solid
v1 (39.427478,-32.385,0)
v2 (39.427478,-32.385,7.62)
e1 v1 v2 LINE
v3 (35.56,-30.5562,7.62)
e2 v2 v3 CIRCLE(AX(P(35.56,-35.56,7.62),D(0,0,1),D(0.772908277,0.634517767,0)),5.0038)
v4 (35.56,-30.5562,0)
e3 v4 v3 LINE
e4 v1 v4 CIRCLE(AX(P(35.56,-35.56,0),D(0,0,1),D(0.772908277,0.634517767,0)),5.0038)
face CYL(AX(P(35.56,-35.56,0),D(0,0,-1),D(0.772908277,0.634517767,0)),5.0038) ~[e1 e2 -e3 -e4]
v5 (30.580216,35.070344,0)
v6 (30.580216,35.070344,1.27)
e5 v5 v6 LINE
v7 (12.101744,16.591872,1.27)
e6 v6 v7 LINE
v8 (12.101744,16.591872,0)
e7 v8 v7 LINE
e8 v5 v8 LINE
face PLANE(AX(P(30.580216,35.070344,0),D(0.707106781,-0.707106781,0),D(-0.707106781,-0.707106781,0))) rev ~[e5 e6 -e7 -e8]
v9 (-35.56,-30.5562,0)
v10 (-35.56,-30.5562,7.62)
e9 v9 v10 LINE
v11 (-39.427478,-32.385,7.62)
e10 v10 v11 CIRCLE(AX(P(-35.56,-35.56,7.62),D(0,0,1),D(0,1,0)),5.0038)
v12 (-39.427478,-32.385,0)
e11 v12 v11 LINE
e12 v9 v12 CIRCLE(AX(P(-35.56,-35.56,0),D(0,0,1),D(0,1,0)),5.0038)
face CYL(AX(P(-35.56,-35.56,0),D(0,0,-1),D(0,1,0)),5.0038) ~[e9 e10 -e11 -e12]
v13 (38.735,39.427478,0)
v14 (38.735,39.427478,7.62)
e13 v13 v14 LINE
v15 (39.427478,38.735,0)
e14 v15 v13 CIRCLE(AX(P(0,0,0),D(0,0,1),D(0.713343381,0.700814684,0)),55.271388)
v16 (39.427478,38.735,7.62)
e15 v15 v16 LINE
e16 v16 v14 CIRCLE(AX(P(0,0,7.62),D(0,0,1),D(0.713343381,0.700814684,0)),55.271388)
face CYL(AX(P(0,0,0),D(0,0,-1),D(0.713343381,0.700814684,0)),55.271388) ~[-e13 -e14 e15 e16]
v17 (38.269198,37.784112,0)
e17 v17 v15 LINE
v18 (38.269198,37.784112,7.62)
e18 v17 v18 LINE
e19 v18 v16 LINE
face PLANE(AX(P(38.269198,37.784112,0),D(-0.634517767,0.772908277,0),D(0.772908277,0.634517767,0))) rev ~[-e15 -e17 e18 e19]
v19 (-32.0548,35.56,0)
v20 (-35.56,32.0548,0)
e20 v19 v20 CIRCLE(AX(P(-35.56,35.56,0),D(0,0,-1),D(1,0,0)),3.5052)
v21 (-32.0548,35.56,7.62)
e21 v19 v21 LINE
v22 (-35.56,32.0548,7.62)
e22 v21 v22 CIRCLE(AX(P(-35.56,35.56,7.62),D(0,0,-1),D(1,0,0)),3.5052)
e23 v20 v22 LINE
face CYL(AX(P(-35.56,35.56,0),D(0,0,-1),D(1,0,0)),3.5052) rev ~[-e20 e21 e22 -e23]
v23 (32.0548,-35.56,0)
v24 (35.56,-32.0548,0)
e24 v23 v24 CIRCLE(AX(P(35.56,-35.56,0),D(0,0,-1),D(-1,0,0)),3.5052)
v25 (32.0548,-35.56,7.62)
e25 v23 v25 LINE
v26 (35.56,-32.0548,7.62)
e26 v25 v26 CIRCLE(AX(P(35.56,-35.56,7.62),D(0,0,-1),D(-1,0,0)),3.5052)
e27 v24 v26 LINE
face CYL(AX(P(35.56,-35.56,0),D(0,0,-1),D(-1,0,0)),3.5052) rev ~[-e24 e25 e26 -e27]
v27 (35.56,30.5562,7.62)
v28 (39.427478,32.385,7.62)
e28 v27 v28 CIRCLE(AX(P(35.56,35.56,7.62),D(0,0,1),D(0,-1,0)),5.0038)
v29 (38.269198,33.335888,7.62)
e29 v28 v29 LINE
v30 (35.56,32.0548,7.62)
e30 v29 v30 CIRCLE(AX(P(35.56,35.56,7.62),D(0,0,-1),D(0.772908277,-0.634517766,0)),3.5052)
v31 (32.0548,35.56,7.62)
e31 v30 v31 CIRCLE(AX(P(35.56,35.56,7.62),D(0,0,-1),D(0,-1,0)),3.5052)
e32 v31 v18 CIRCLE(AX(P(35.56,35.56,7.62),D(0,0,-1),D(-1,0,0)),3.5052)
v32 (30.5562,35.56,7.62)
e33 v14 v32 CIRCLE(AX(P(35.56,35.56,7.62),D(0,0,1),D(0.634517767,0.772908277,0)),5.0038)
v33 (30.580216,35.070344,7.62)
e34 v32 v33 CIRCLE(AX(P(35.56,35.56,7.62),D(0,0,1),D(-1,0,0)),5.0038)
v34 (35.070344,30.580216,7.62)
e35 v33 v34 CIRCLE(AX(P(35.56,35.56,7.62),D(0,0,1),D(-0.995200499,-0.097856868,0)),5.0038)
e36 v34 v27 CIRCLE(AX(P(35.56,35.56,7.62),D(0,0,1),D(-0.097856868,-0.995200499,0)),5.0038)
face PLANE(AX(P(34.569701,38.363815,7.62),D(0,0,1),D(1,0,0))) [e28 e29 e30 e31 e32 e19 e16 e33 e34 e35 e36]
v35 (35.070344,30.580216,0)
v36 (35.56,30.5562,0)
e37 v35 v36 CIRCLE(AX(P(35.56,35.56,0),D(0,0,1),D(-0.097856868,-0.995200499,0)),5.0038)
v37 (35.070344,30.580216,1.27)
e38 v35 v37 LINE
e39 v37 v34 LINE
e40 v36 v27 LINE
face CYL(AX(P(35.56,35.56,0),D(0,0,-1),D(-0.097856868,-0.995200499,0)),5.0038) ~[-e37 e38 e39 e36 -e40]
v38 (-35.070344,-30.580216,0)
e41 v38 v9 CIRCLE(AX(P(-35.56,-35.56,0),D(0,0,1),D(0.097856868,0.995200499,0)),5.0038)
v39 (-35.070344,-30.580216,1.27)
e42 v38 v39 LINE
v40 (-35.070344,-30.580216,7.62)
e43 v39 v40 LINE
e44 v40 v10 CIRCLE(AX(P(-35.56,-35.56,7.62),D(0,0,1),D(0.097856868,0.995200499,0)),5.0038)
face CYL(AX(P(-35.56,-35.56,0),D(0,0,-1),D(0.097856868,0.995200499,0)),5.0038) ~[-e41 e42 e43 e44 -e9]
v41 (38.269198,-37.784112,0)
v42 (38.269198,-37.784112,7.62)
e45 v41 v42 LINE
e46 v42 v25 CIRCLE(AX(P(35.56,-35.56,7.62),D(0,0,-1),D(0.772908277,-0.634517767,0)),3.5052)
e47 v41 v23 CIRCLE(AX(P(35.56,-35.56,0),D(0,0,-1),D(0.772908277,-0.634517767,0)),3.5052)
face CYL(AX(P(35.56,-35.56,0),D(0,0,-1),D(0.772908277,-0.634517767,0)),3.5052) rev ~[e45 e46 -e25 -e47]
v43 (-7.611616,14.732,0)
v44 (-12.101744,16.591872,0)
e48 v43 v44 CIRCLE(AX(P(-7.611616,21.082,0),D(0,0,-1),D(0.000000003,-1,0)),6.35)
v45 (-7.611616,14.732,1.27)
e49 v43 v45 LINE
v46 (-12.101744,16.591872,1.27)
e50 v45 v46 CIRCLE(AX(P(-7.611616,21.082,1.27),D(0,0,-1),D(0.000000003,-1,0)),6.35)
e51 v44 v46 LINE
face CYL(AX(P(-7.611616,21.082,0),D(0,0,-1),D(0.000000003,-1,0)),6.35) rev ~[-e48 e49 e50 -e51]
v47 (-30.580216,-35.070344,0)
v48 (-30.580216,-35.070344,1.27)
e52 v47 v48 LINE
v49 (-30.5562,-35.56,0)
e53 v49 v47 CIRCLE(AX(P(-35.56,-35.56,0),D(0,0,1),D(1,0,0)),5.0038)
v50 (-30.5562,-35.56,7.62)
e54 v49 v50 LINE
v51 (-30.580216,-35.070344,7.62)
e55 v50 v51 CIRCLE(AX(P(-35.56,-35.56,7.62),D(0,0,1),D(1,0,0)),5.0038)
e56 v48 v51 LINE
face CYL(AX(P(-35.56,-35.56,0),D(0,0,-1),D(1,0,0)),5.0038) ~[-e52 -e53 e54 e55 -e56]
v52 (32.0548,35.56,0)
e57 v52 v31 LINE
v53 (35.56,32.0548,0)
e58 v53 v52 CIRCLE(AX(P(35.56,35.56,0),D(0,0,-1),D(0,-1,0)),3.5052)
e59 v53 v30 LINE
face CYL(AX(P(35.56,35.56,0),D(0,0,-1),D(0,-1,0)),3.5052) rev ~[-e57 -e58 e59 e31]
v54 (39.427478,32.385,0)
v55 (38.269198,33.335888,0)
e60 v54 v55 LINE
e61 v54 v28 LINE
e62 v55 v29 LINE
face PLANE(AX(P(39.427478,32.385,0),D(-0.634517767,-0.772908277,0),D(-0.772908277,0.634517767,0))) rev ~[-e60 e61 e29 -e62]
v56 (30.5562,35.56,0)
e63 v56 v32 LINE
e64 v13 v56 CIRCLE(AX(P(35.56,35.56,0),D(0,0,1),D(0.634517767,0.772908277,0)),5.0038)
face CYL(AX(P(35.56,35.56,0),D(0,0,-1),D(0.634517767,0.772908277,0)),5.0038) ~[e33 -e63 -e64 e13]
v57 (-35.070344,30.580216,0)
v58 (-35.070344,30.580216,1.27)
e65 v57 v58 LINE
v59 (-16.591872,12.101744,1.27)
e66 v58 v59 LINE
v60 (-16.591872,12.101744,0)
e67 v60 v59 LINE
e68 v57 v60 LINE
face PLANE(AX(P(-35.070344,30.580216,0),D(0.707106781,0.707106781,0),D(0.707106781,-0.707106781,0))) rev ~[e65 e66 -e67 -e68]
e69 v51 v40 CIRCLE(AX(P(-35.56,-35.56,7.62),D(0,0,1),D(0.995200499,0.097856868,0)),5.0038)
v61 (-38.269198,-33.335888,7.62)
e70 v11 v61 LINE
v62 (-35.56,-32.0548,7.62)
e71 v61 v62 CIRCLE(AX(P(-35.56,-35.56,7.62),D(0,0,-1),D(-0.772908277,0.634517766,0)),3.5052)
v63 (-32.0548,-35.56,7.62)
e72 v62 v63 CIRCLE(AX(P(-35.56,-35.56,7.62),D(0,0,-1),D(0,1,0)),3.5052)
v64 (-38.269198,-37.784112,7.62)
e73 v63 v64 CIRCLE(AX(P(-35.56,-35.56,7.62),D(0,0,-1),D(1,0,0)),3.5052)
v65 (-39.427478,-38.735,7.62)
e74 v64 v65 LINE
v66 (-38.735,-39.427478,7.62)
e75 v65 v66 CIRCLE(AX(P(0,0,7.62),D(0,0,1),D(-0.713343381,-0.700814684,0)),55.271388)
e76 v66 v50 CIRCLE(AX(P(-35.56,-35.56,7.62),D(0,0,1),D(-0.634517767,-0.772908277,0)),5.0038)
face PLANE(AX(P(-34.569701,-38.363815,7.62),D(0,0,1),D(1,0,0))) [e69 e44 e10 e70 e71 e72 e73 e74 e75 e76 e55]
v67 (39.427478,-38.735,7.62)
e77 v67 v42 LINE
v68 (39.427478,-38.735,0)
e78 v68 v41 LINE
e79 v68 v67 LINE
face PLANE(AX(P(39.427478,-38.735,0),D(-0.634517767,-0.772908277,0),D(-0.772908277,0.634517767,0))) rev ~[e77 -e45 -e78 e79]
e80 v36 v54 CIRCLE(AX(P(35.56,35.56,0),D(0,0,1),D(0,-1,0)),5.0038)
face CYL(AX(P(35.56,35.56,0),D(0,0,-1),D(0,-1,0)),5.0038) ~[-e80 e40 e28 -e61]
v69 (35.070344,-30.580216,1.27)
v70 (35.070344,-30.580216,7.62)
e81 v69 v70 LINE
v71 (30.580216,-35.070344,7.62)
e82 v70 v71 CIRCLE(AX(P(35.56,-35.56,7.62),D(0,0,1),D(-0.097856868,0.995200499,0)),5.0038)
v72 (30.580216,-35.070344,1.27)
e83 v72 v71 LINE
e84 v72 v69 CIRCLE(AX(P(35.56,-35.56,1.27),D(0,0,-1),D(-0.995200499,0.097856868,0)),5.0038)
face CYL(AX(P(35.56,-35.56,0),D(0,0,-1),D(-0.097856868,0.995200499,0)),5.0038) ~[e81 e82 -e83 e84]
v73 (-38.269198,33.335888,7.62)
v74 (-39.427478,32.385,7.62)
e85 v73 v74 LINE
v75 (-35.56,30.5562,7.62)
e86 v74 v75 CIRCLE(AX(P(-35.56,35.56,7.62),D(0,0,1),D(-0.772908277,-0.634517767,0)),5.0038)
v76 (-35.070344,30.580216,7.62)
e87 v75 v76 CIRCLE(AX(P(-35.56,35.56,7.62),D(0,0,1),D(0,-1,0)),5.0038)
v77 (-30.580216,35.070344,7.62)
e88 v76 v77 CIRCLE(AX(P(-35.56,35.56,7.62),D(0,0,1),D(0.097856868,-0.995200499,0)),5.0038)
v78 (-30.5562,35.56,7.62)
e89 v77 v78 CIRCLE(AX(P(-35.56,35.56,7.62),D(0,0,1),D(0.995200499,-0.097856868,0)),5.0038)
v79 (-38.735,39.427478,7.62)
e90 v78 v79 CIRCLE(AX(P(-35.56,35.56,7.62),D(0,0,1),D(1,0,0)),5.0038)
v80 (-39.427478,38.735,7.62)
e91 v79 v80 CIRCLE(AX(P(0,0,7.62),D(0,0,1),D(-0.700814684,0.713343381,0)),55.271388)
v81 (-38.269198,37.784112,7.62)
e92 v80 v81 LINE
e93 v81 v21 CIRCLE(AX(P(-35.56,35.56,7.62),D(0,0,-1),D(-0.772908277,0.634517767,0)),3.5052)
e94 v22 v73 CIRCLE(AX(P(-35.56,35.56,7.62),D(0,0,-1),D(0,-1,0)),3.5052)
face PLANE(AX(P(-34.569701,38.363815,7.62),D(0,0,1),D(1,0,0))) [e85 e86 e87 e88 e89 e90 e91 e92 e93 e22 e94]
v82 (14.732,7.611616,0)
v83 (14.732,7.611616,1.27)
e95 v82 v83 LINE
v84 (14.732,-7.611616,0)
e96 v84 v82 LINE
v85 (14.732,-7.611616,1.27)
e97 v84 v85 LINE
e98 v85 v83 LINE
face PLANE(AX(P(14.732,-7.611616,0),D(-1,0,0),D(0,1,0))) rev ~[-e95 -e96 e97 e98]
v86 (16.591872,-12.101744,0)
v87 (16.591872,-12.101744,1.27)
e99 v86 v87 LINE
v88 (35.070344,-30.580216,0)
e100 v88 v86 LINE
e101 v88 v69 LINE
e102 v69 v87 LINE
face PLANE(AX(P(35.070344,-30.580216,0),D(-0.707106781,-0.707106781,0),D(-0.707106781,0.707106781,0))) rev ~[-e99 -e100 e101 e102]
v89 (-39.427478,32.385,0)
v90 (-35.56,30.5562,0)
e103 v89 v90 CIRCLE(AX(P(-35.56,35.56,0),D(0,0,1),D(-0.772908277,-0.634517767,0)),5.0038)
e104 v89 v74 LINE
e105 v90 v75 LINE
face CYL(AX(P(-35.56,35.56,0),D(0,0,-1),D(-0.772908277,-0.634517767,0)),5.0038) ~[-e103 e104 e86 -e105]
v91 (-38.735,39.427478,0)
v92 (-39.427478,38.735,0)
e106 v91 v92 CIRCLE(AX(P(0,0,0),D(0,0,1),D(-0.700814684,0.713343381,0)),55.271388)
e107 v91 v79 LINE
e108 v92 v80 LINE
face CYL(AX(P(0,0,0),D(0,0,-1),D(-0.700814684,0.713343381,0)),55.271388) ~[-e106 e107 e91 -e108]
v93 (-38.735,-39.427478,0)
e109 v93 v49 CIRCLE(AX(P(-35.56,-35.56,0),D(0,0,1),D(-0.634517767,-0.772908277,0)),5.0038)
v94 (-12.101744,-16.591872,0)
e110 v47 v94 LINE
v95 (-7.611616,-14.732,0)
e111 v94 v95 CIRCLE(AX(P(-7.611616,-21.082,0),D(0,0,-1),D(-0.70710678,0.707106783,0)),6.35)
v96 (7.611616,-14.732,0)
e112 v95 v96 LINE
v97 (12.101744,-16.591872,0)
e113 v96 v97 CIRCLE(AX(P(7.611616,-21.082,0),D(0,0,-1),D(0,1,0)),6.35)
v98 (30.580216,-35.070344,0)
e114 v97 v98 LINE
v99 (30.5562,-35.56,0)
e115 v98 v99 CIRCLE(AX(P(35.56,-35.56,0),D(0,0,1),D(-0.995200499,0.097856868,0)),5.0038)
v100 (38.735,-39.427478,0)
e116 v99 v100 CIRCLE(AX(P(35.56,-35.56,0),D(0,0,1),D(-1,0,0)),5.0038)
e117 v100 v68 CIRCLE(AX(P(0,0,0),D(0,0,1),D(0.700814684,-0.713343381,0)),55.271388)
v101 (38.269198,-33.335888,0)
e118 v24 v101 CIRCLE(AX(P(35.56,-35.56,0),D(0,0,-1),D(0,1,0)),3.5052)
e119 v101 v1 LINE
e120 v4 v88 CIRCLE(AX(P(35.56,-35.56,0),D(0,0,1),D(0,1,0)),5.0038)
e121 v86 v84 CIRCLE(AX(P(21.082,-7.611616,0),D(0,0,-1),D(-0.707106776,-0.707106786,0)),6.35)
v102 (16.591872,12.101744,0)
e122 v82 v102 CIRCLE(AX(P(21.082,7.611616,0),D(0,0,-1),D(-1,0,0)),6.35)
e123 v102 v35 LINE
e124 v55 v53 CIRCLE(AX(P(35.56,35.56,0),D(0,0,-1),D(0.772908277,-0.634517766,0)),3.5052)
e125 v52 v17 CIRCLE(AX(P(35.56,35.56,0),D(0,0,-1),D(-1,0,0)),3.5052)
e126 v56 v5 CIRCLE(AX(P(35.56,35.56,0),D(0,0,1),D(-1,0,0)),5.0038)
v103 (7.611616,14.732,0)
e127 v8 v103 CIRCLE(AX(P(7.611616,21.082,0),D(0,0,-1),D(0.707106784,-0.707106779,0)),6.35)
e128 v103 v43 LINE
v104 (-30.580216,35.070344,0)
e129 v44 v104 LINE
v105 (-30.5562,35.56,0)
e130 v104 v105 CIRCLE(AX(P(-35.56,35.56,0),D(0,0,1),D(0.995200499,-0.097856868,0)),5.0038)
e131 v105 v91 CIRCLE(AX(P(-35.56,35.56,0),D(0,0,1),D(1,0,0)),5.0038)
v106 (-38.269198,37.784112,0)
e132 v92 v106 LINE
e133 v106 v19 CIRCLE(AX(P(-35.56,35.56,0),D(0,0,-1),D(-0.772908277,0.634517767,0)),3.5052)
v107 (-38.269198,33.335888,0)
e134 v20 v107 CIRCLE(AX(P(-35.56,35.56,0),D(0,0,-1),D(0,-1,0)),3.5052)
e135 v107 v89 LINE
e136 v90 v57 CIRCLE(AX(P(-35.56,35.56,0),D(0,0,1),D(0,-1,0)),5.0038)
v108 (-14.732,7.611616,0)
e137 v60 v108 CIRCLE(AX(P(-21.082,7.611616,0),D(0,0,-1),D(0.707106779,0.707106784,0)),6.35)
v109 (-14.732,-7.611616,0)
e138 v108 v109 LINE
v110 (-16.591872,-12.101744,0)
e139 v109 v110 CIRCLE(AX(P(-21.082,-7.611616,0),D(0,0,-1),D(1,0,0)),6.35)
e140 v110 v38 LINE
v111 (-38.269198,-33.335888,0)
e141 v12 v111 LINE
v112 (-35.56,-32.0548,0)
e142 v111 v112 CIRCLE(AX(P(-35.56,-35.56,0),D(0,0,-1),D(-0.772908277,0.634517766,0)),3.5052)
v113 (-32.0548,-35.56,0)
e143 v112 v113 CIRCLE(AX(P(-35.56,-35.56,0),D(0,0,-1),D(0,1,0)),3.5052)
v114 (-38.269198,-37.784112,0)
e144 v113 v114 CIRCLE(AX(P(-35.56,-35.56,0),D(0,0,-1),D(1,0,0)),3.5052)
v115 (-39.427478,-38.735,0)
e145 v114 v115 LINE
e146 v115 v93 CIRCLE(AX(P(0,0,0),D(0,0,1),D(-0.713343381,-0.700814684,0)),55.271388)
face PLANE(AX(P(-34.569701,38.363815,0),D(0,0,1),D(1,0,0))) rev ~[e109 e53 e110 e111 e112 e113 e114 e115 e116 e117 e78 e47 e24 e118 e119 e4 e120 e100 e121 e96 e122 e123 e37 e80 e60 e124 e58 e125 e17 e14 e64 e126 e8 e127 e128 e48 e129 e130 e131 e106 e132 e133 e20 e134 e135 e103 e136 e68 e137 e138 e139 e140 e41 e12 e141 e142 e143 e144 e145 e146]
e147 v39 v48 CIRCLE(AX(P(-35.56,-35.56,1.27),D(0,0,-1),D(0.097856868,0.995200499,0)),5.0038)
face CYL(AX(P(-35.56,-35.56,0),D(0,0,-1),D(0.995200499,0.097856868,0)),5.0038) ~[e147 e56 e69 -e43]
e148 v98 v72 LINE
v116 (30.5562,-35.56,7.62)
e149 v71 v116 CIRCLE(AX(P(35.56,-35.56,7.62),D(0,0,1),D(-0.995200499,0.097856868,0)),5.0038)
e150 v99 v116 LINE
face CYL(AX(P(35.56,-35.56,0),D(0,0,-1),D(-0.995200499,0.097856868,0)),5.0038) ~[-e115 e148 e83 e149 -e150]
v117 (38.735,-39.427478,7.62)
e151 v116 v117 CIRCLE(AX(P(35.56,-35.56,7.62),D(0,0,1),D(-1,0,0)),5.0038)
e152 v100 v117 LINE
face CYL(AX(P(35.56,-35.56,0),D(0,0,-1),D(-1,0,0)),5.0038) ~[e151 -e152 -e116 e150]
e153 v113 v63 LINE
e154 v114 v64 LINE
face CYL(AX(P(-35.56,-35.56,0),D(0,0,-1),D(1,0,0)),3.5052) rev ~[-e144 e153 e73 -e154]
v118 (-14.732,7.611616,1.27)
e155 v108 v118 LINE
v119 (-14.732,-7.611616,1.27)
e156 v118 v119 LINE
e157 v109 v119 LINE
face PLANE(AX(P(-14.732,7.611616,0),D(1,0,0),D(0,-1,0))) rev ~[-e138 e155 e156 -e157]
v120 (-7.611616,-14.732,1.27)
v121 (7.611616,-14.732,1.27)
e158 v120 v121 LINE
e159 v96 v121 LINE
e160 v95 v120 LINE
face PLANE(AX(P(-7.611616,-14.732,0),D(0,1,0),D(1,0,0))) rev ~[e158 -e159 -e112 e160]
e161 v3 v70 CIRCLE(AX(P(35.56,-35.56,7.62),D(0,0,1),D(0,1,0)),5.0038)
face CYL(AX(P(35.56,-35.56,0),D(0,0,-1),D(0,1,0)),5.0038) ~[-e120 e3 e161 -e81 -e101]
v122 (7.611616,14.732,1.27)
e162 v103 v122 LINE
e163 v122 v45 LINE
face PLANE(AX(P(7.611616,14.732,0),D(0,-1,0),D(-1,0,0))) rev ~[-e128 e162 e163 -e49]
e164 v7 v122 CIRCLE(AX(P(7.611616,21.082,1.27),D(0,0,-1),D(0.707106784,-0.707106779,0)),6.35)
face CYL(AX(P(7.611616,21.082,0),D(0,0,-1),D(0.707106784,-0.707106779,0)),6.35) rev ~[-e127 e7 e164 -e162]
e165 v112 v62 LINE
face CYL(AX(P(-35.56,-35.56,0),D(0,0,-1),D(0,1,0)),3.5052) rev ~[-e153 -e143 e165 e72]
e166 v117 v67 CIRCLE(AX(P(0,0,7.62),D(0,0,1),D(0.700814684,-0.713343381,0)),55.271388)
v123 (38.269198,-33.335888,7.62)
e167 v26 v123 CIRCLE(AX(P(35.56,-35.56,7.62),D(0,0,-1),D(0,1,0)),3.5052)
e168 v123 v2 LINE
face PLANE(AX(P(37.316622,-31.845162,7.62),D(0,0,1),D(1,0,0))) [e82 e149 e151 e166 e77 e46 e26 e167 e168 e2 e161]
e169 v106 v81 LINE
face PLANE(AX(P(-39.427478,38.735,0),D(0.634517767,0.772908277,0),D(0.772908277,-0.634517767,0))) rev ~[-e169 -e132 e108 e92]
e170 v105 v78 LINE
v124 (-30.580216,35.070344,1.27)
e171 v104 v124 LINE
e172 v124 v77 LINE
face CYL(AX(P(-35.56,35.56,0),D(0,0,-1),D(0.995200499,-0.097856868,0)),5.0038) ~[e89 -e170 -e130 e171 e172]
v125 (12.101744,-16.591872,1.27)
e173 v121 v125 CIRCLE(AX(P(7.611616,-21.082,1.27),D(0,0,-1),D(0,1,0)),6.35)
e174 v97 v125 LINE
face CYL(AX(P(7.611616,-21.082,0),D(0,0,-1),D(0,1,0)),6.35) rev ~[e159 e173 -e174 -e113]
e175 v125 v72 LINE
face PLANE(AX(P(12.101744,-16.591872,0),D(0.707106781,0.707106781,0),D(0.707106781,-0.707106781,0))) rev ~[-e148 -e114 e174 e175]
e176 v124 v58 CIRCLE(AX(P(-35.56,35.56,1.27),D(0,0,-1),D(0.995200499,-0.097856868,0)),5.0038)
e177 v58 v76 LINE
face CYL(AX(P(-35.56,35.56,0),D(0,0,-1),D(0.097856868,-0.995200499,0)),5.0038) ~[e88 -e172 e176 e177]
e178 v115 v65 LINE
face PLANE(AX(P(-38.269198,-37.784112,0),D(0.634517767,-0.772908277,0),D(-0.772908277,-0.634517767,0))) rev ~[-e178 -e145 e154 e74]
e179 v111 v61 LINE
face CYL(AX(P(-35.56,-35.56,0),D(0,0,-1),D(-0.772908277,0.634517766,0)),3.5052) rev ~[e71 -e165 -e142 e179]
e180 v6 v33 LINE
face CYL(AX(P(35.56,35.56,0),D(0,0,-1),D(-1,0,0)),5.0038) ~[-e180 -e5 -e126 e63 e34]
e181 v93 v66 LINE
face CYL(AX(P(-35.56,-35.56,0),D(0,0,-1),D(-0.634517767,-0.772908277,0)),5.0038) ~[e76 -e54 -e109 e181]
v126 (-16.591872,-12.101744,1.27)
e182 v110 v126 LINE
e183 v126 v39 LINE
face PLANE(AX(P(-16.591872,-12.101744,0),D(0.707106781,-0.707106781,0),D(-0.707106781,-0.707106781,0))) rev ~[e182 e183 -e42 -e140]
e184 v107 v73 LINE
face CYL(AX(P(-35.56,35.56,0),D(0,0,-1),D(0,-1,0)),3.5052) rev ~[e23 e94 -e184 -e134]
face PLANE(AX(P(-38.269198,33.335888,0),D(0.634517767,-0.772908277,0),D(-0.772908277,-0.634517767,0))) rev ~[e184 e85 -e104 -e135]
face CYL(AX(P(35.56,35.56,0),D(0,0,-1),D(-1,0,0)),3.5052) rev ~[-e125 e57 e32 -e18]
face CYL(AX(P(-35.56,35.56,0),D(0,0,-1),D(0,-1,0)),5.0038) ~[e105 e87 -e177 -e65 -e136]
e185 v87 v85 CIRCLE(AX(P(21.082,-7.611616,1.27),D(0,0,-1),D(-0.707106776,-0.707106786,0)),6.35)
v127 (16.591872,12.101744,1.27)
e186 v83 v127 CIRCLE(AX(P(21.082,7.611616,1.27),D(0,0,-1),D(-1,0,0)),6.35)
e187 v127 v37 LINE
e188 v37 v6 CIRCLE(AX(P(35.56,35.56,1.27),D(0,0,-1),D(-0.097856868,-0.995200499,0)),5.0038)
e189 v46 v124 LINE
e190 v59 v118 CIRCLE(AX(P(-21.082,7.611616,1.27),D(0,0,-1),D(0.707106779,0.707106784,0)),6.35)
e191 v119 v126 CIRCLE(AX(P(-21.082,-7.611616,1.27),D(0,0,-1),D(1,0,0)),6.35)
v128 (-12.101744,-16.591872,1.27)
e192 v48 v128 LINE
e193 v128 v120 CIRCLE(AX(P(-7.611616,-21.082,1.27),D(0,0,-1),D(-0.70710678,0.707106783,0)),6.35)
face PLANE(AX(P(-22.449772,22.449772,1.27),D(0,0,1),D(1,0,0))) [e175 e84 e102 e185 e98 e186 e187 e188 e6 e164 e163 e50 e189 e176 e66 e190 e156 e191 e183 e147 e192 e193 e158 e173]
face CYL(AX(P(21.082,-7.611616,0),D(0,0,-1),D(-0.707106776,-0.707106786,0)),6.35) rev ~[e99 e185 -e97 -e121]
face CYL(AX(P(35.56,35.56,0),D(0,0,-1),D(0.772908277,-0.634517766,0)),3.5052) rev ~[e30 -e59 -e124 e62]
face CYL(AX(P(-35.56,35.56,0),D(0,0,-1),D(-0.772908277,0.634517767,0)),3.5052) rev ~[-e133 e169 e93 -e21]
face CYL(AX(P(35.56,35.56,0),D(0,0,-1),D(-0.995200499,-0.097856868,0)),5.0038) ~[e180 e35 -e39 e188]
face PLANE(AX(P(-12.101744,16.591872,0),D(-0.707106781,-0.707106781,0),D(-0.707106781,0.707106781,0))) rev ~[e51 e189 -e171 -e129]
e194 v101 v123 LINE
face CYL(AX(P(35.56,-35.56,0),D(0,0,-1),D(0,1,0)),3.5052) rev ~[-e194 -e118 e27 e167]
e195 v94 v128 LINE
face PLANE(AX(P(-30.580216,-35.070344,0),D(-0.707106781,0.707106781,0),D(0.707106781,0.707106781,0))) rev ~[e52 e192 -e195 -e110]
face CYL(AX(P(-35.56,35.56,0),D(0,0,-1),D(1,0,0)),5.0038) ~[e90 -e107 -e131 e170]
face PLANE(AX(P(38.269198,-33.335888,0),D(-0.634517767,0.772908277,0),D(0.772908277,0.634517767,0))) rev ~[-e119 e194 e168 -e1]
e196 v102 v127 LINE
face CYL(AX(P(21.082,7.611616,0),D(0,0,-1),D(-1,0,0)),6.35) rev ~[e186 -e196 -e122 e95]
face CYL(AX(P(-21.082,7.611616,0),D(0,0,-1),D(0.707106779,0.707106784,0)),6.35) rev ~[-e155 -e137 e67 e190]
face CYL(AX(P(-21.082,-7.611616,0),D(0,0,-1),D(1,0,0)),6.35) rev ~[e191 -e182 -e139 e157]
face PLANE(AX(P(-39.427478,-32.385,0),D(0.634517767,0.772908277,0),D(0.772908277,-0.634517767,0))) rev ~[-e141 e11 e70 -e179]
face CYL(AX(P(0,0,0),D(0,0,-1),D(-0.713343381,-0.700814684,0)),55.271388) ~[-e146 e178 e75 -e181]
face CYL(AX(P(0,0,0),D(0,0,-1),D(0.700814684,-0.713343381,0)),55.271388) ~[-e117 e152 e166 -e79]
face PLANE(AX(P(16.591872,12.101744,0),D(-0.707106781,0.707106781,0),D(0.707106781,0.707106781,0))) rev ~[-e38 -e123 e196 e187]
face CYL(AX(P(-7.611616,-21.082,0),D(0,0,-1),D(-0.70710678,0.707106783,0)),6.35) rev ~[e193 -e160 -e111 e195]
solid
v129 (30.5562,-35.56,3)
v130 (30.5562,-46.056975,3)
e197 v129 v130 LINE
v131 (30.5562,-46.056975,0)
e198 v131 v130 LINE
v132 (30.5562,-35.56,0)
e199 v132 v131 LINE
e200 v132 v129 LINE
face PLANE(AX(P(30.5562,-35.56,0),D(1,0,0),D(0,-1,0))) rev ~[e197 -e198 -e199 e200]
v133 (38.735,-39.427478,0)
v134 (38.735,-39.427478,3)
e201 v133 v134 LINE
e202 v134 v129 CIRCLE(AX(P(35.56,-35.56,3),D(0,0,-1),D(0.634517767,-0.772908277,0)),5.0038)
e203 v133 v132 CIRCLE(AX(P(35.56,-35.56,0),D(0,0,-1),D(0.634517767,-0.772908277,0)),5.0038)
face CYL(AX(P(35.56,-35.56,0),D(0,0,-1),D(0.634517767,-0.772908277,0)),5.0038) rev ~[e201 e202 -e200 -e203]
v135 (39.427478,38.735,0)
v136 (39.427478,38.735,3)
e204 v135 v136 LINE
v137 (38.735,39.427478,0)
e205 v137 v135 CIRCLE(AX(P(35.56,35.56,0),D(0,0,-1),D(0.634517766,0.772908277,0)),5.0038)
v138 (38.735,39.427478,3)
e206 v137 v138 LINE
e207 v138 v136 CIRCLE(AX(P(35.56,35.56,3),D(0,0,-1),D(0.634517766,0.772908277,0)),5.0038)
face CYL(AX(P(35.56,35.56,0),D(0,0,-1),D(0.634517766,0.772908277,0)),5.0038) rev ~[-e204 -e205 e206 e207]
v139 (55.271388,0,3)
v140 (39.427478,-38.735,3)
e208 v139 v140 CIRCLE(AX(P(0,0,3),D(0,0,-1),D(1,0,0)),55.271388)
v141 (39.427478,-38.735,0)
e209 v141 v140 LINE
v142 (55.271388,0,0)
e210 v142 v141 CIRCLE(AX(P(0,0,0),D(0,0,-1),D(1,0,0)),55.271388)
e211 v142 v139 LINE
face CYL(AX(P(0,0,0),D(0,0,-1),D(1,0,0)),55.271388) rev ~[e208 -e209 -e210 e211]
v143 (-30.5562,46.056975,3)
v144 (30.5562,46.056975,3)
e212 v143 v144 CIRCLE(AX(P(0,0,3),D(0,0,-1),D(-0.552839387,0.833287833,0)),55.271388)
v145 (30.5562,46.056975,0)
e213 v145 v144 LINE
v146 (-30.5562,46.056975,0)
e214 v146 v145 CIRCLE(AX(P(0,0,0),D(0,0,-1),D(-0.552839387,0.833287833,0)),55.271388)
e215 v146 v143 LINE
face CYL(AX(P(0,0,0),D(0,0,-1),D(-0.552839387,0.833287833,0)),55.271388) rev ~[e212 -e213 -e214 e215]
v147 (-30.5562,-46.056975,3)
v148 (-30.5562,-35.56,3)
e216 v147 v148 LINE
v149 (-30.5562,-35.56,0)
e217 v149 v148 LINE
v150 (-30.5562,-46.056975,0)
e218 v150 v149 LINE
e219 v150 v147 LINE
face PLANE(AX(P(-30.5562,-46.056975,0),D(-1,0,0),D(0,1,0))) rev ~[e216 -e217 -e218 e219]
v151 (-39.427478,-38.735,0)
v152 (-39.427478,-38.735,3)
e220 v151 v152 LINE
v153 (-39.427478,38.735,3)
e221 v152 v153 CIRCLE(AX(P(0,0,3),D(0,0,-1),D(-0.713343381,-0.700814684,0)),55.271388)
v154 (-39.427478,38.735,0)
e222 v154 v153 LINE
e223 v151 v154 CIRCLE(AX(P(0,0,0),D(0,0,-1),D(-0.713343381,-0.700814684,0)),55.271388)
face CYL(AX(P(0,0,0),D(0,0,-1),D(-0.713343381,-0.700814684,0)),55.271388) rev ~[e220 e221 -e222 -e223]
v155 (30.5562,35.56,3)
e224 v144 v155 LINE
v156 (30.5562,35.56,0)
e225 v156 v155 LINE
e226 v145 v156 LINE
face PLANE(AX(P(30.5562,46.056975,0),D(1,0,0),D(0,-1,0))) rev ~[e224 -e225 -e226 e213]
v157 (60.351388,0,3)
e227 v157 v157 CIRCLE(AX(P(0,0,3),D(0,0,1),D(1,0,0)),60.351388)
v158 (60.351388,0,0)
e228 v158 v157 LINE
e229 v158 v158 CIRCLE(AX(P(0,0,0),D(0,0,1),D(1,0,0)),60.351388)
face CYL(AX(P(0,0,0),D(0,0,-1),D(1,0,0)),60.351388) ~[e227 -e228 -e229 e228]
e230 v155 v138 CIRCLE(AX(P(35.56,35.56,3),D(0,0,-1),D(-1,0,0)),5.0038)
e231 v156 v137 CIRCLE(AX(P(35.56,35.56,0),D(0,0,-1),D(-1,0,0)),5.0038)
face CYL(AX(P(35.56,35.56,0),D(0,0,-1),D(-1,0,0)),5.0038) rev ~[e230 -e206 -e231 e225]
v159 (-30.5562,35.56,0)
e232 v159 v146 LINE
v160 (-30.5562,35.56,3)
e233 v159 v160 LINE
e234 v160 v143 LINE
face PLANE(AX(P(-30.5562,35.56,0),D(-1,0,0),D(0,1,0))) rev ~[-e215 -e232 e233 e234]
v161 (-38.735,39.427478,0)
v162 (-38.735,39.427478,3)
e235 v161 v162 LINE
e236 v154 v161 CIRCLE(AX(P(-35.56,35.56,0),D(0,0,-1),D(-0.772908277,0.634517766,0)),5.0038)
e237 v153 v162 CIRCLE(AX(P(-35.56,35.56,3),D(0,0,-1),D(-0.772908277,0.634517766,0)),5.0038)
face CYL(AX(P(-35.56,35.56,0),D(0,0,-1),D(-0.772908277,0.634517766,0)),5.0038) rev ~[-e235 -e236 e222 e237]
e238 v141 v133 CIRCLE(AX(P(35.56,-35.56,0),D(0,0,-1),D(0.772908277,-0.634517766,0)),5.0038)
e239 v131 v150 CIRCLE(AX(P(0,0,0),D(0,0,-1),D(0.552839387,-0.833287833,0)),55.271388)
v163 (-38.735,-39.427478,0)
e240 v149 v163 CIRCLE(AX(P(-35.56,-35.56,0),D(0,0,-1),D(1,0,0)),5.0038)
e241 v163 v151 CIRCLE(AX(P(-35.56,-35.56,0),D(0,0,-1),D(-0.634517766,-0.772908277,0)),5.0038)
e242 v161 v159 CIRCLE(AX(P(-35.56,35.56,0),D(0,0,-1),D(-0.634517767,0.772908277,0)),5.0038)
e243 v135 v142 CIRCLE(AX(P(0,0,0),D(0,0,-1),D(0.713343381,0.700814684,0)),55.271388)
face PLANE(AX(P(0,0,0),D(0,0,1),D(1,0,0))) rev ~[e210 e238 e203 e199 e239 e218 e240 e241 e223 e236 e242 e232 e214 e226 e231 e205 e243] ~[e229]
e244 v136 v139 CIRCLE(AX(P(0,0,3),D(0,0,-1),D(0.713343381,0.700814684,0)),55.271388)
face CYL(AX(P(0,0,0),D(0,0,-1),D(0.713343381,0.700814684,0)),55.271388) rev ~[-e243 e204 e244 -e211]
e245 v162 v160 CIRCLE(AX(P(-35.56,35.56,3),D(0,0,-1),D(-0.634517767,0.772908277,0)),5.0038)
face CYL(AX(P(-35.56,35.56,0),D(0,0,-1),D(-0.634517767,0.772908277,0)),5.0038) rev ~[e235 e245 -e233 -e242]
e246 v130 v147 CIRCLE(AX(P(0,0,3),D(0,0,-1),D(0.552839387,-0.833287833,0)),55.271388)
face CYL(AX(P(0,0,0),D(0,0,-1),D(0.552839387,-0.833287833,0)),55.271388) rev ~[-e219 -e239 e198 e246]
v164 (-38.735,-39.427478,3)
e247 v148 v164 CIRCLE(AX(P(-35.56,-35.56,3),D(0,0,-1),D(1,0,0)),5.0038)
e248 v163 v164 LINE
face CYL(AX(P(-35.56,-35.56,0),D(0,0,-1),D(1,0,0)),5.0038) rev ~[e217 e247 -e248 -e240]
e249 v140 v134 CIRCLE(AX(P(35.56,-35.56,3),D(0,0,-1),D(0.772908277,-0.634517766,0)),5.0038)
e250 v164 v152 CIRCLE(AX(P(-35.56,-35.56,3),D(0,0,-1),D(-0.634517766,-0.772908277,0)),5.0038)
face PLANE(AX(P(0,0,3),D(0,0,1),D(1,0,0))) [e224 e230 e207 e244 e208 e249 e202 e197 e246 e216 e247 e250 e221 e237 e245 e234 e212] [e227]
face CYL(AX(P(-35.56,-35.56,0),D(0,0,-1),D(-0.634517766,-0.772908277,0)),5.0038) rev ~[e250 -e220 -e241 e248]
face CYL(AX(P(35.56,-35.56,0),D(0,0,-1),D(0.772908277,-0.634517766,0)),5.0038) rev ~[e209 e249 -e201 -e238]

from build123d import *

# Parameters (mm, degrees)
F1_DEPTH = 1.27
F2_DEPTH = 7.62
F0_R     = 60.3513875408
F3_DEPTH = 3


with BuildPart() as f1:
    # F0 (on Top) → F1 (new body)
    with BuildSketch(Plane.XY):
        with BuildLine():
            Line((-12.1017438942, 16.5918719547), (-30.5802157427, 35.0703438033))
            ThreePointArc((-30.5802157427, 35.0703438033), (-32.0217790883, 32.0217790883), (-35.0703438033, 30.5802157427))
            Line((-35.0703438033, 30.5802157427), (-16.5918719547, 12.1017438942))
            Line((-16.5918719547, 12.1017438942), (-14.732, 10.2418719395))
            Line((-14.732, 10.2418719395), (-14.732, 14.732))
            Line((-14.732, 14.732), (-10.2418719395, 14.732))
            Line((-10.2418719395, 14.732), (-12.1017438942, 16.5918719547))
        make_face()
        Polygon((14.732, 14.732), (10.2418719395, 14.732), (7.6116158184, 14.732), (-7.6116157971, 14.732), (-10.2418719395, 14.732), (-14.732, 14.732), (-14.732, 10.2418719395), (-14.732, 7.6116158184), (-14.732, -7.6116158184), (-14.732, -10.2418719395), (-14.732, -14.732), (-10.2418719395, -14.732), (-7.6116158234, -14.732), (7.6116158184, -14.732), (10.2418719395, -14.732), (14.732, -14.732), (14.732, -10.2418719395), (14.732, -7.6116158184), (14.732, 7.6116158184), (14.732, 10.2418719395), align=None)
        with BuildLine():
            ThreePointArc((35.0703438033, 30.5802157427), (32.0217790883, 32.0217790883), (30.5802157427, 35.0703438033))
            Line((30.5802157427, 35.0703438033), (12.1017438942, 16.5918719547))
            Line((12.1017438942, 16.5918719547), (10.2418719395, 14.732))
            Line((10.2418719395, 14.732), (14.732, 14.732))
            Line((14.732, 14.732), (14.732, 10.2418719395))
            Line((14.732, 10.2418719395), (16.5918719304, 12.1017438699))
            Line((16.5918719304, 12.1017438699), (35.0703438033, 30.5802157427))
        make_face()
        with BuildLine():
            ThreePointArc((30.5802157427, -35.0703438033), (32.0217790883, -32.0217790883), (35.0703438033, -30.5802157427))
            Line((35.0703438033, -30.5802157427), (16.5918719698, -12.1017439092))
            Line((16.5918719698, -12.1017439092), (14.732, -10.2418719395))
            Line((14.732, -10.2418719395), (14.732, -14.732))
            Line((14.732, -14.732), (10.2418719395, -14.732))
            Line((10.2418719395, -14.732), (12.1017438942, -16.5918719547))
            Line((12.1017438942, -16.5918719547), (30.5802157427, -35.0703438033))
        make_face()
        with BuildLine():
            Line((-16.5918719154, -12.1017438548), (-35.0703438033, -30.5802157427))
            ThreePointArc((-35.0703438033, -30.5802157427), (-32.0217790883, -32.0217790883), (-30.5802157427, -35.0703438033))
            Line((-30.5802157427, -35.0703438033), (-12.1017438699, -16.5918719304))
            Line((-12.1017438699, -16.5918719304), (-10.2418719395, -14.732))
            Line((-10.2418719395, -14.732), (-14.732, -14.732))
            Line((-14.732, -14.732), (-14.732, -10.2418719395))
            Line((-14.732, -10.2418719395), (-16.5918719154, -12.1017438548))
        make_face()
        with BuildLine():
            Line((-10.2418719395, -14.732), (-12.1017438699, -16.5918719304))
            ThreePointArc((-12.1017438699, -16.5918719304), (-10.0416556103, -15.2153649671), (-7.6116158234, -14.732))
            Line((-7.6116158234, -14.732), (-10.2418719395, -14.732))
        make_face()
        with BuildLine():
            Line((-14.732, -10.2418719395), (-14.732, -7.6116158184))
            ThreePointArc((-14.732, -7.6116158184), (-15.215364962, -10.0416555982), (-16.5918719154, -12.1017438548))
            Line((-16.5918719154, -12.1017438548), (-14.732, -10.2418719395))
        make_face()
        with BuildLine():
            ThreePointArc((7.6116158184, -14.732), (10.0416556239, -15.2153649727), (12.1017438942, -16.5918719547))
            Line((12.1017438942, -16.5918719547), (10.2418719395, -14.732))
            Line((10.2418719395, -14.732), (7.6116158184, -14.732))
        make_face()
        with BuildLine():
            ThreePointArc((16.5918719698, -12.1017439092), (15.2153649768, -10.0416556337), (14.732, -7.6116158184))
            Line((14.732, -7.6116158184), (14.732, -10.2418719395))
            Line((14.732, -10.2418719395), (16.5918719698, -12.1017439092))
        make_face()
        with BuildLine():
            ThreePointArc((14.732, 7.6116158184), (15.2153649661, 10.041655608), (16.5918719304, 12.1017438699))
            Line((16.5918719304, 12.1017438699), (14.732, 10.2418719395))
            Line((14.732, 10.2418719395), (14.732, 7.6116158184))
        make_face()
        with BuildLine():
            Line((10.2418719395, 14.732), (12.1017438942, 16.5918719547))
            ThreePointArc((12.1017438942, 16.5918719547), (10.0416556239, 15.2153649727), (7.6116158184, 14.732))
            Line((7.6116158184, 14.732), (10.2418719395, 14.732))
        make_face()
        with BuildLine():
            ThreePointArc((-7.6116157971, 14.732), (-10.0416556141, 15.2153649686), (-12.1017438942, 16.5918719547))
            Line((-12.1017438942, 16.5918719547), (-10.2418719395, 14.732))
            Line((-10.2418719395, 14.732), (-7.6116157971, 14.732))
        make_face()
        with BuildLine():
            Line((-14.732, 10.2418719395), (-16.5918719547, 12.1017438942))
            ThreePointArc((-16.5918719547, 12.1017438942), (-15.2153649727, 10.0416556239), (-14.732, 7.6116158184))
            Line((-14.732, 7.6116158184), (-14.732, 10.2418719395))
        make_face()
    extrude(amount=F1_DEPTH)

    # F0 (on Top) → F2 (join)
    with BuildSketch(Plane.XY):
        with BuildLine():
            Line((-32.0548, 35.56), (-30.5562, 35.56))
            ThreePointArc((-30.5562, 35.56), (-33.4209640676, 40.0835538816), (-38.735, 39.4274784343))
            ThreePointArc((-38.735, 39.4274784343), (-39.0827729357, 39.0827729357), (-39.4274784343, 38.735))
            Line((-39.4274784343, 38.735), (-38.2691980911, 37.7841116751))
            ThreePointArc((-38.2691980911, 37.7841116751), (-34.378867939, 38.8602051594), (-32.0548, 35.56))
        make_face()
        with BuildLine():
            ThreePointArc((-30.5802157427, 35.0703438033), (-30.562207542, 35.3148776087), (-30.5562, 35.56))
            Line((-30.5562, 35.56), (-32.0548, 35.56))
            ThreePointArc((-32.0548, 35.56), (-33.0814493106, 33.0814493106), (-35.56, 32.0548))
            Line((-35.56, 32.0548), (-35.56, 30.5562))
            ThreePointArc((-35.56, 30.5562), (-35.3148776087, 30.562207542), (-35.0703438033, 30.5802157427))
            ThreePointArc((-35.0703438033, 30.5802157427), (-32.0217790883, 32.0217790883), (-30.5802157427, 35.0703438033))
        make_face()
        with BuildLine():
            Line((-35.56, 30.5562), (-35.56, 32.0548))
            ThreePointArc((-35.56, 32.0548), (-37.0584109577, 32.3912160626), (-38.2691980911, 33.3358883249))
            Line((-38.2691980911, 33.3358883249), (-39.4274784343, 32.385))
            ThreePointArc((-39.4274784343, 32.385), (-37.6990359324, 31.0364461184), (-35.56, 30.5562))
        make_face()
        with BuildLine():
            ThreePointArc((38.735, 39.4274784343), (33.4209640676, 40.0835538816), (30.5562, 35.56))
            Line((30.5562, 35.56), (32.0548, 35.56))
            ThreePointArc((32.0548, 35.56), (34.378867939, 38.8602051594), (38.2691980911, 37.7841116751))
            Line((38.2691980911, 37.7841116751), (39.4274784343, 38.735))
            ThreePointArc((39.4274784343, 38.735), (39.0827729357, 39.0827729357), (38.735, 39.4274784343))
        make_face()
        with BuildLine():
            Line((32.0548, 35.56), (30.5562, 35.56))
            ThreePointArc((30.5562, 35.56), (30.562207542, 35.3148776087), (30.5802157427, 35.0703438033))
            ThreePointArc((30.5802157427, 35.0703438033), (32.0217790883, 32.0217790883), (35.0703438033, 30.5802157427))
            ThreePointArc((35.0703438033, 30.5802157427), (35.3148776087, 30.562207542), (35.56, 30.5562))
            Line((35.56, 30.5562), (35.56, 32.0548))
            ThreePointArc((35.56, 32.0548), (33.0814493106, 33.0814493106), (32.0548, 35.56))
        make_face()
        with BuildLine():
            ThreePointArc((38.2691980911, 33.3358883249), (37.0584109577, 32.3912160626), (35.56, 32.0548))
            Line((35.56, 32.0548), (35.56, 30.5562))
            ThreePointArc((35.56, 30.5562), (37.6990359324, 31.0364461184), (39.4274784343, 32.385))
            Line((39.4274784343, 32.385), (38.2691980911, 33.3358883249))
        make_face()
        with BuildLine():
            ThreePointArc((39.4274784343, -32.385), (37.6990359324, -31.0364461184), (35.56, -30.5562))
            Line((35.56, -30.5562), (35.56, -32.0548))
            ThreePointArc((35.56, -32.0548), (37.0584109577, -32.3912160626), (38.2691980911, -33.3358883249))
            Line((38.2691980911, -33.3358883249), (39.4274784343, -32.385))
        make_face()
        with BuildLine():
            Line((35.56, -32.0548), (35.56, -30.5562))
            ThreePointArc((35.56, -30.5562), (35.3148776087, -30.562207542), (35.0703438033, -30.5802157427))
            ThreePointArc((35.0703438033, -30.5802157427), (32.0217790883, -32.0217790883), (30.5802157427, -35.0703438033))
            ThreePointArc((30.5802157427, -35.0703438033), (30.562207542, -35.3148776087), (30.5562, -35.56))
            Line((30.5562, -35.56), (32.0548, -35.56))
            ThreePointArc((32.0548, -35.56), (33.0814493106, -33.0814493106), (35.56, -32.0548))
        make_face()
        with BuildLine():
            ThreePointArc((38.735, -39.4274784343), (39.0827729357, -39.0827729357), (39.4274784343, -38.735))
            Line((39.4274784343, -38.735), (38.2691980911, -37.7841116751))
            ThreePointArc((38.2691980911, -37.7841116751), (34.378867939, -38.8602051594), (32.0548, -35.56))
            Line((32.0548, -35.56), (30.5562, -35.56))
            ThreePointArc((30.5562, -35.56), (33.4209640676, -40.0835538816), (38.735, -39.4274784343))
        make_face()
        with BuildLine():
            Line((-38.2691980911, -37.7841116751), (-39.4274784343, -38.735))
            ThreePointArc((-39.4274784343, -38.735), (-39.0827729357, -39.0827729357), (-38.735, -39.4274784343))
            ThreePointArc((-38.735, -39.4274784343), (-33.4209640676, -40.0835538816), (-30.5562, -35.56))
            Line((-30.5562, -35.56), (-32.0548, -35.56))
            ThreePointArc((-32.0548, -35.56), (-34.378867939, -38.8602051594), (-38.2691980911, -37.7841116751))
        make_face()
        with BuildLine():
            ThreePointArc((-35.0703438033, -30.5802157427), (-35.3148776087, -30.562207542), (-35.56, -30.5562))
            Line((-35.56, -30.5562), (-35.56, -32.0548))
            ThreePointArc((-35.56, -32.0548), (-33.0814493106, -33.0814493106), (-32.0548, -35.56))
            Line((-32.0548, -35.56), (-30.5562, -35.56))
            ThreePointArc((-30.5562, -35.56), (-30.562207542, -35.3148776087), (-30.5802157427, -35.0703438033))
            ThreePointArc((-30.5802157427, -35.0703438033), (-32.0217790883, -32.0217790883), (-35.0703438033, -30.5802157427))
        make_face()
        with BuildLine():
            Line((-35.56, -32.0548), (-35.56, -30.5562))
            ThreePointArc((-35.56, -30.5562), (-37.6990359324, -31.0364461184), (-39.4274784343, -32.385))
            Line((-39.4274784343, -32.385), (-38.2691980911, -33.3358883249))
            ThreePointArc((-38.2691980911, -33.3358883249), (-37.0584109577, -32.3912160626), (-35.56, -32.0548))
        make_face()
    extrude(amount=F2_DEPTH)


with BuildPart() as f3:
    # F0 (on Top) → F3 (new body)
    with BuildSketch(Plane.XY):
        Circle(F0_R)
        with BuildLine():
            ThreePointArc((30.5562, 46.0569747405), (34.8038094851, 42.9374094003), (38.735, 39.4274784343))
            ThreePointArc((38.735, 39.4274784343), (39.0982209117, 39.0982209117), (39.4274784343, 38.735))
            ThreePointArc((39.4274784343, 38.735), (51.1572952813, 20.9250428959), (55.2713875408, 0))
            ThreePointArc((55.2713875408, 0), (51.1572952813, -20.9250428959), (39.4274784343, -38.735))
            ThreePointArc((39.4274784343, -38.735), (39.0982209117, -39.0982209117), (38.735, -39.4274784343))
            ThreePointArc((38.735, -39.4274784343), (34.8038094851, -42.9374094003), (30.5562, -46.0569747405))
            ThreePointArc((30.5562, -46.0569747405), (0, -55.2713875408), (-30.5562, -46.0569747405))
            ThreePointArc((-30.5562, -46.0569747405), (-34.8038094851, -42.9374094003), (-38.735, -39.4274784343))
            ThreePointArc((-38.735, -39.4274784343), (-39.0982209117, -39.0982209117), (-39.4274784343, -38.735))
            ThreePointArc((-39.4274784343, -38.735), (-55.2713875408, 0), (-39.4274784343, 38.735))
            ThreePointArc((-39.4274784343, 38.735), (-39.0982209117, 39.0982209117), (-38.735, 39.4274784343))
            ThreePointArc((-38.735, 39.4274784343), (-34.8038094851, 42.9374094003), (-30.5562, 46.0569747405))
            ThreePointArc((-30.5562, 46.0569747405), (0, 55.2713875408), (30.5562, 46.0569747405))
        make_face(mode=Mode.SUBTRACT)
        with BuildLine():
            ThreePointArc((-30.5562, -35.56), (-33.4209640676, -40.0835538816), (-38.735, -39.4274784343))
            ThreePointArc((-38.735, -39.4274784343), (-34.8038094851, -42.9374094003), (-30.5562, -46.0569747405))
            Line((-30.5562, -46.0569747405), (-30.5562, -35.56))
        make_face()
        with BuildLine():
            ThreePointArc((-38.735, 39.4274784343), (-33.4209640676, 40.0835538816), (-30.5562, 35.56))
            Line((-30.5562, 35.56), (-30.5562, 46.0569747405))
            ThreePointArc((-30.5562, 46.0569747405), (-34.8038094851, 42.9374094003), (-38.735, 39.4274784343))
        make_face()
        with BuildLine():
            Line((30.5562, 46.0569747405), (30.5562, 35.56))
            ThreePointArc((30.5562, 35.56), (33.4209640676, 40.0835538816), (38.735, 39.4274784343))
            ThreePointArc((38.735, 39.4274784343), (34.8038094851, 42.9374094003), (30.5562, 46.0569747405))
        make_face()
        with BuildLine():
            ThreePointArc((30.5562, -46.0569747405), (34.8038094851, -42.9374094003), (38.735, -39.4274784343))
            ThreePointArc((38.735, -39.4274784343), (33.4209640676, -40.0835538816), (30.5562, -35.56))
            Line((30.5562, -35.56), (30.5562, -46.0569747405))
        make_face()
    extrude(amount=F3_DEPTH)


solid = Compound([f1.part, f3.part])
